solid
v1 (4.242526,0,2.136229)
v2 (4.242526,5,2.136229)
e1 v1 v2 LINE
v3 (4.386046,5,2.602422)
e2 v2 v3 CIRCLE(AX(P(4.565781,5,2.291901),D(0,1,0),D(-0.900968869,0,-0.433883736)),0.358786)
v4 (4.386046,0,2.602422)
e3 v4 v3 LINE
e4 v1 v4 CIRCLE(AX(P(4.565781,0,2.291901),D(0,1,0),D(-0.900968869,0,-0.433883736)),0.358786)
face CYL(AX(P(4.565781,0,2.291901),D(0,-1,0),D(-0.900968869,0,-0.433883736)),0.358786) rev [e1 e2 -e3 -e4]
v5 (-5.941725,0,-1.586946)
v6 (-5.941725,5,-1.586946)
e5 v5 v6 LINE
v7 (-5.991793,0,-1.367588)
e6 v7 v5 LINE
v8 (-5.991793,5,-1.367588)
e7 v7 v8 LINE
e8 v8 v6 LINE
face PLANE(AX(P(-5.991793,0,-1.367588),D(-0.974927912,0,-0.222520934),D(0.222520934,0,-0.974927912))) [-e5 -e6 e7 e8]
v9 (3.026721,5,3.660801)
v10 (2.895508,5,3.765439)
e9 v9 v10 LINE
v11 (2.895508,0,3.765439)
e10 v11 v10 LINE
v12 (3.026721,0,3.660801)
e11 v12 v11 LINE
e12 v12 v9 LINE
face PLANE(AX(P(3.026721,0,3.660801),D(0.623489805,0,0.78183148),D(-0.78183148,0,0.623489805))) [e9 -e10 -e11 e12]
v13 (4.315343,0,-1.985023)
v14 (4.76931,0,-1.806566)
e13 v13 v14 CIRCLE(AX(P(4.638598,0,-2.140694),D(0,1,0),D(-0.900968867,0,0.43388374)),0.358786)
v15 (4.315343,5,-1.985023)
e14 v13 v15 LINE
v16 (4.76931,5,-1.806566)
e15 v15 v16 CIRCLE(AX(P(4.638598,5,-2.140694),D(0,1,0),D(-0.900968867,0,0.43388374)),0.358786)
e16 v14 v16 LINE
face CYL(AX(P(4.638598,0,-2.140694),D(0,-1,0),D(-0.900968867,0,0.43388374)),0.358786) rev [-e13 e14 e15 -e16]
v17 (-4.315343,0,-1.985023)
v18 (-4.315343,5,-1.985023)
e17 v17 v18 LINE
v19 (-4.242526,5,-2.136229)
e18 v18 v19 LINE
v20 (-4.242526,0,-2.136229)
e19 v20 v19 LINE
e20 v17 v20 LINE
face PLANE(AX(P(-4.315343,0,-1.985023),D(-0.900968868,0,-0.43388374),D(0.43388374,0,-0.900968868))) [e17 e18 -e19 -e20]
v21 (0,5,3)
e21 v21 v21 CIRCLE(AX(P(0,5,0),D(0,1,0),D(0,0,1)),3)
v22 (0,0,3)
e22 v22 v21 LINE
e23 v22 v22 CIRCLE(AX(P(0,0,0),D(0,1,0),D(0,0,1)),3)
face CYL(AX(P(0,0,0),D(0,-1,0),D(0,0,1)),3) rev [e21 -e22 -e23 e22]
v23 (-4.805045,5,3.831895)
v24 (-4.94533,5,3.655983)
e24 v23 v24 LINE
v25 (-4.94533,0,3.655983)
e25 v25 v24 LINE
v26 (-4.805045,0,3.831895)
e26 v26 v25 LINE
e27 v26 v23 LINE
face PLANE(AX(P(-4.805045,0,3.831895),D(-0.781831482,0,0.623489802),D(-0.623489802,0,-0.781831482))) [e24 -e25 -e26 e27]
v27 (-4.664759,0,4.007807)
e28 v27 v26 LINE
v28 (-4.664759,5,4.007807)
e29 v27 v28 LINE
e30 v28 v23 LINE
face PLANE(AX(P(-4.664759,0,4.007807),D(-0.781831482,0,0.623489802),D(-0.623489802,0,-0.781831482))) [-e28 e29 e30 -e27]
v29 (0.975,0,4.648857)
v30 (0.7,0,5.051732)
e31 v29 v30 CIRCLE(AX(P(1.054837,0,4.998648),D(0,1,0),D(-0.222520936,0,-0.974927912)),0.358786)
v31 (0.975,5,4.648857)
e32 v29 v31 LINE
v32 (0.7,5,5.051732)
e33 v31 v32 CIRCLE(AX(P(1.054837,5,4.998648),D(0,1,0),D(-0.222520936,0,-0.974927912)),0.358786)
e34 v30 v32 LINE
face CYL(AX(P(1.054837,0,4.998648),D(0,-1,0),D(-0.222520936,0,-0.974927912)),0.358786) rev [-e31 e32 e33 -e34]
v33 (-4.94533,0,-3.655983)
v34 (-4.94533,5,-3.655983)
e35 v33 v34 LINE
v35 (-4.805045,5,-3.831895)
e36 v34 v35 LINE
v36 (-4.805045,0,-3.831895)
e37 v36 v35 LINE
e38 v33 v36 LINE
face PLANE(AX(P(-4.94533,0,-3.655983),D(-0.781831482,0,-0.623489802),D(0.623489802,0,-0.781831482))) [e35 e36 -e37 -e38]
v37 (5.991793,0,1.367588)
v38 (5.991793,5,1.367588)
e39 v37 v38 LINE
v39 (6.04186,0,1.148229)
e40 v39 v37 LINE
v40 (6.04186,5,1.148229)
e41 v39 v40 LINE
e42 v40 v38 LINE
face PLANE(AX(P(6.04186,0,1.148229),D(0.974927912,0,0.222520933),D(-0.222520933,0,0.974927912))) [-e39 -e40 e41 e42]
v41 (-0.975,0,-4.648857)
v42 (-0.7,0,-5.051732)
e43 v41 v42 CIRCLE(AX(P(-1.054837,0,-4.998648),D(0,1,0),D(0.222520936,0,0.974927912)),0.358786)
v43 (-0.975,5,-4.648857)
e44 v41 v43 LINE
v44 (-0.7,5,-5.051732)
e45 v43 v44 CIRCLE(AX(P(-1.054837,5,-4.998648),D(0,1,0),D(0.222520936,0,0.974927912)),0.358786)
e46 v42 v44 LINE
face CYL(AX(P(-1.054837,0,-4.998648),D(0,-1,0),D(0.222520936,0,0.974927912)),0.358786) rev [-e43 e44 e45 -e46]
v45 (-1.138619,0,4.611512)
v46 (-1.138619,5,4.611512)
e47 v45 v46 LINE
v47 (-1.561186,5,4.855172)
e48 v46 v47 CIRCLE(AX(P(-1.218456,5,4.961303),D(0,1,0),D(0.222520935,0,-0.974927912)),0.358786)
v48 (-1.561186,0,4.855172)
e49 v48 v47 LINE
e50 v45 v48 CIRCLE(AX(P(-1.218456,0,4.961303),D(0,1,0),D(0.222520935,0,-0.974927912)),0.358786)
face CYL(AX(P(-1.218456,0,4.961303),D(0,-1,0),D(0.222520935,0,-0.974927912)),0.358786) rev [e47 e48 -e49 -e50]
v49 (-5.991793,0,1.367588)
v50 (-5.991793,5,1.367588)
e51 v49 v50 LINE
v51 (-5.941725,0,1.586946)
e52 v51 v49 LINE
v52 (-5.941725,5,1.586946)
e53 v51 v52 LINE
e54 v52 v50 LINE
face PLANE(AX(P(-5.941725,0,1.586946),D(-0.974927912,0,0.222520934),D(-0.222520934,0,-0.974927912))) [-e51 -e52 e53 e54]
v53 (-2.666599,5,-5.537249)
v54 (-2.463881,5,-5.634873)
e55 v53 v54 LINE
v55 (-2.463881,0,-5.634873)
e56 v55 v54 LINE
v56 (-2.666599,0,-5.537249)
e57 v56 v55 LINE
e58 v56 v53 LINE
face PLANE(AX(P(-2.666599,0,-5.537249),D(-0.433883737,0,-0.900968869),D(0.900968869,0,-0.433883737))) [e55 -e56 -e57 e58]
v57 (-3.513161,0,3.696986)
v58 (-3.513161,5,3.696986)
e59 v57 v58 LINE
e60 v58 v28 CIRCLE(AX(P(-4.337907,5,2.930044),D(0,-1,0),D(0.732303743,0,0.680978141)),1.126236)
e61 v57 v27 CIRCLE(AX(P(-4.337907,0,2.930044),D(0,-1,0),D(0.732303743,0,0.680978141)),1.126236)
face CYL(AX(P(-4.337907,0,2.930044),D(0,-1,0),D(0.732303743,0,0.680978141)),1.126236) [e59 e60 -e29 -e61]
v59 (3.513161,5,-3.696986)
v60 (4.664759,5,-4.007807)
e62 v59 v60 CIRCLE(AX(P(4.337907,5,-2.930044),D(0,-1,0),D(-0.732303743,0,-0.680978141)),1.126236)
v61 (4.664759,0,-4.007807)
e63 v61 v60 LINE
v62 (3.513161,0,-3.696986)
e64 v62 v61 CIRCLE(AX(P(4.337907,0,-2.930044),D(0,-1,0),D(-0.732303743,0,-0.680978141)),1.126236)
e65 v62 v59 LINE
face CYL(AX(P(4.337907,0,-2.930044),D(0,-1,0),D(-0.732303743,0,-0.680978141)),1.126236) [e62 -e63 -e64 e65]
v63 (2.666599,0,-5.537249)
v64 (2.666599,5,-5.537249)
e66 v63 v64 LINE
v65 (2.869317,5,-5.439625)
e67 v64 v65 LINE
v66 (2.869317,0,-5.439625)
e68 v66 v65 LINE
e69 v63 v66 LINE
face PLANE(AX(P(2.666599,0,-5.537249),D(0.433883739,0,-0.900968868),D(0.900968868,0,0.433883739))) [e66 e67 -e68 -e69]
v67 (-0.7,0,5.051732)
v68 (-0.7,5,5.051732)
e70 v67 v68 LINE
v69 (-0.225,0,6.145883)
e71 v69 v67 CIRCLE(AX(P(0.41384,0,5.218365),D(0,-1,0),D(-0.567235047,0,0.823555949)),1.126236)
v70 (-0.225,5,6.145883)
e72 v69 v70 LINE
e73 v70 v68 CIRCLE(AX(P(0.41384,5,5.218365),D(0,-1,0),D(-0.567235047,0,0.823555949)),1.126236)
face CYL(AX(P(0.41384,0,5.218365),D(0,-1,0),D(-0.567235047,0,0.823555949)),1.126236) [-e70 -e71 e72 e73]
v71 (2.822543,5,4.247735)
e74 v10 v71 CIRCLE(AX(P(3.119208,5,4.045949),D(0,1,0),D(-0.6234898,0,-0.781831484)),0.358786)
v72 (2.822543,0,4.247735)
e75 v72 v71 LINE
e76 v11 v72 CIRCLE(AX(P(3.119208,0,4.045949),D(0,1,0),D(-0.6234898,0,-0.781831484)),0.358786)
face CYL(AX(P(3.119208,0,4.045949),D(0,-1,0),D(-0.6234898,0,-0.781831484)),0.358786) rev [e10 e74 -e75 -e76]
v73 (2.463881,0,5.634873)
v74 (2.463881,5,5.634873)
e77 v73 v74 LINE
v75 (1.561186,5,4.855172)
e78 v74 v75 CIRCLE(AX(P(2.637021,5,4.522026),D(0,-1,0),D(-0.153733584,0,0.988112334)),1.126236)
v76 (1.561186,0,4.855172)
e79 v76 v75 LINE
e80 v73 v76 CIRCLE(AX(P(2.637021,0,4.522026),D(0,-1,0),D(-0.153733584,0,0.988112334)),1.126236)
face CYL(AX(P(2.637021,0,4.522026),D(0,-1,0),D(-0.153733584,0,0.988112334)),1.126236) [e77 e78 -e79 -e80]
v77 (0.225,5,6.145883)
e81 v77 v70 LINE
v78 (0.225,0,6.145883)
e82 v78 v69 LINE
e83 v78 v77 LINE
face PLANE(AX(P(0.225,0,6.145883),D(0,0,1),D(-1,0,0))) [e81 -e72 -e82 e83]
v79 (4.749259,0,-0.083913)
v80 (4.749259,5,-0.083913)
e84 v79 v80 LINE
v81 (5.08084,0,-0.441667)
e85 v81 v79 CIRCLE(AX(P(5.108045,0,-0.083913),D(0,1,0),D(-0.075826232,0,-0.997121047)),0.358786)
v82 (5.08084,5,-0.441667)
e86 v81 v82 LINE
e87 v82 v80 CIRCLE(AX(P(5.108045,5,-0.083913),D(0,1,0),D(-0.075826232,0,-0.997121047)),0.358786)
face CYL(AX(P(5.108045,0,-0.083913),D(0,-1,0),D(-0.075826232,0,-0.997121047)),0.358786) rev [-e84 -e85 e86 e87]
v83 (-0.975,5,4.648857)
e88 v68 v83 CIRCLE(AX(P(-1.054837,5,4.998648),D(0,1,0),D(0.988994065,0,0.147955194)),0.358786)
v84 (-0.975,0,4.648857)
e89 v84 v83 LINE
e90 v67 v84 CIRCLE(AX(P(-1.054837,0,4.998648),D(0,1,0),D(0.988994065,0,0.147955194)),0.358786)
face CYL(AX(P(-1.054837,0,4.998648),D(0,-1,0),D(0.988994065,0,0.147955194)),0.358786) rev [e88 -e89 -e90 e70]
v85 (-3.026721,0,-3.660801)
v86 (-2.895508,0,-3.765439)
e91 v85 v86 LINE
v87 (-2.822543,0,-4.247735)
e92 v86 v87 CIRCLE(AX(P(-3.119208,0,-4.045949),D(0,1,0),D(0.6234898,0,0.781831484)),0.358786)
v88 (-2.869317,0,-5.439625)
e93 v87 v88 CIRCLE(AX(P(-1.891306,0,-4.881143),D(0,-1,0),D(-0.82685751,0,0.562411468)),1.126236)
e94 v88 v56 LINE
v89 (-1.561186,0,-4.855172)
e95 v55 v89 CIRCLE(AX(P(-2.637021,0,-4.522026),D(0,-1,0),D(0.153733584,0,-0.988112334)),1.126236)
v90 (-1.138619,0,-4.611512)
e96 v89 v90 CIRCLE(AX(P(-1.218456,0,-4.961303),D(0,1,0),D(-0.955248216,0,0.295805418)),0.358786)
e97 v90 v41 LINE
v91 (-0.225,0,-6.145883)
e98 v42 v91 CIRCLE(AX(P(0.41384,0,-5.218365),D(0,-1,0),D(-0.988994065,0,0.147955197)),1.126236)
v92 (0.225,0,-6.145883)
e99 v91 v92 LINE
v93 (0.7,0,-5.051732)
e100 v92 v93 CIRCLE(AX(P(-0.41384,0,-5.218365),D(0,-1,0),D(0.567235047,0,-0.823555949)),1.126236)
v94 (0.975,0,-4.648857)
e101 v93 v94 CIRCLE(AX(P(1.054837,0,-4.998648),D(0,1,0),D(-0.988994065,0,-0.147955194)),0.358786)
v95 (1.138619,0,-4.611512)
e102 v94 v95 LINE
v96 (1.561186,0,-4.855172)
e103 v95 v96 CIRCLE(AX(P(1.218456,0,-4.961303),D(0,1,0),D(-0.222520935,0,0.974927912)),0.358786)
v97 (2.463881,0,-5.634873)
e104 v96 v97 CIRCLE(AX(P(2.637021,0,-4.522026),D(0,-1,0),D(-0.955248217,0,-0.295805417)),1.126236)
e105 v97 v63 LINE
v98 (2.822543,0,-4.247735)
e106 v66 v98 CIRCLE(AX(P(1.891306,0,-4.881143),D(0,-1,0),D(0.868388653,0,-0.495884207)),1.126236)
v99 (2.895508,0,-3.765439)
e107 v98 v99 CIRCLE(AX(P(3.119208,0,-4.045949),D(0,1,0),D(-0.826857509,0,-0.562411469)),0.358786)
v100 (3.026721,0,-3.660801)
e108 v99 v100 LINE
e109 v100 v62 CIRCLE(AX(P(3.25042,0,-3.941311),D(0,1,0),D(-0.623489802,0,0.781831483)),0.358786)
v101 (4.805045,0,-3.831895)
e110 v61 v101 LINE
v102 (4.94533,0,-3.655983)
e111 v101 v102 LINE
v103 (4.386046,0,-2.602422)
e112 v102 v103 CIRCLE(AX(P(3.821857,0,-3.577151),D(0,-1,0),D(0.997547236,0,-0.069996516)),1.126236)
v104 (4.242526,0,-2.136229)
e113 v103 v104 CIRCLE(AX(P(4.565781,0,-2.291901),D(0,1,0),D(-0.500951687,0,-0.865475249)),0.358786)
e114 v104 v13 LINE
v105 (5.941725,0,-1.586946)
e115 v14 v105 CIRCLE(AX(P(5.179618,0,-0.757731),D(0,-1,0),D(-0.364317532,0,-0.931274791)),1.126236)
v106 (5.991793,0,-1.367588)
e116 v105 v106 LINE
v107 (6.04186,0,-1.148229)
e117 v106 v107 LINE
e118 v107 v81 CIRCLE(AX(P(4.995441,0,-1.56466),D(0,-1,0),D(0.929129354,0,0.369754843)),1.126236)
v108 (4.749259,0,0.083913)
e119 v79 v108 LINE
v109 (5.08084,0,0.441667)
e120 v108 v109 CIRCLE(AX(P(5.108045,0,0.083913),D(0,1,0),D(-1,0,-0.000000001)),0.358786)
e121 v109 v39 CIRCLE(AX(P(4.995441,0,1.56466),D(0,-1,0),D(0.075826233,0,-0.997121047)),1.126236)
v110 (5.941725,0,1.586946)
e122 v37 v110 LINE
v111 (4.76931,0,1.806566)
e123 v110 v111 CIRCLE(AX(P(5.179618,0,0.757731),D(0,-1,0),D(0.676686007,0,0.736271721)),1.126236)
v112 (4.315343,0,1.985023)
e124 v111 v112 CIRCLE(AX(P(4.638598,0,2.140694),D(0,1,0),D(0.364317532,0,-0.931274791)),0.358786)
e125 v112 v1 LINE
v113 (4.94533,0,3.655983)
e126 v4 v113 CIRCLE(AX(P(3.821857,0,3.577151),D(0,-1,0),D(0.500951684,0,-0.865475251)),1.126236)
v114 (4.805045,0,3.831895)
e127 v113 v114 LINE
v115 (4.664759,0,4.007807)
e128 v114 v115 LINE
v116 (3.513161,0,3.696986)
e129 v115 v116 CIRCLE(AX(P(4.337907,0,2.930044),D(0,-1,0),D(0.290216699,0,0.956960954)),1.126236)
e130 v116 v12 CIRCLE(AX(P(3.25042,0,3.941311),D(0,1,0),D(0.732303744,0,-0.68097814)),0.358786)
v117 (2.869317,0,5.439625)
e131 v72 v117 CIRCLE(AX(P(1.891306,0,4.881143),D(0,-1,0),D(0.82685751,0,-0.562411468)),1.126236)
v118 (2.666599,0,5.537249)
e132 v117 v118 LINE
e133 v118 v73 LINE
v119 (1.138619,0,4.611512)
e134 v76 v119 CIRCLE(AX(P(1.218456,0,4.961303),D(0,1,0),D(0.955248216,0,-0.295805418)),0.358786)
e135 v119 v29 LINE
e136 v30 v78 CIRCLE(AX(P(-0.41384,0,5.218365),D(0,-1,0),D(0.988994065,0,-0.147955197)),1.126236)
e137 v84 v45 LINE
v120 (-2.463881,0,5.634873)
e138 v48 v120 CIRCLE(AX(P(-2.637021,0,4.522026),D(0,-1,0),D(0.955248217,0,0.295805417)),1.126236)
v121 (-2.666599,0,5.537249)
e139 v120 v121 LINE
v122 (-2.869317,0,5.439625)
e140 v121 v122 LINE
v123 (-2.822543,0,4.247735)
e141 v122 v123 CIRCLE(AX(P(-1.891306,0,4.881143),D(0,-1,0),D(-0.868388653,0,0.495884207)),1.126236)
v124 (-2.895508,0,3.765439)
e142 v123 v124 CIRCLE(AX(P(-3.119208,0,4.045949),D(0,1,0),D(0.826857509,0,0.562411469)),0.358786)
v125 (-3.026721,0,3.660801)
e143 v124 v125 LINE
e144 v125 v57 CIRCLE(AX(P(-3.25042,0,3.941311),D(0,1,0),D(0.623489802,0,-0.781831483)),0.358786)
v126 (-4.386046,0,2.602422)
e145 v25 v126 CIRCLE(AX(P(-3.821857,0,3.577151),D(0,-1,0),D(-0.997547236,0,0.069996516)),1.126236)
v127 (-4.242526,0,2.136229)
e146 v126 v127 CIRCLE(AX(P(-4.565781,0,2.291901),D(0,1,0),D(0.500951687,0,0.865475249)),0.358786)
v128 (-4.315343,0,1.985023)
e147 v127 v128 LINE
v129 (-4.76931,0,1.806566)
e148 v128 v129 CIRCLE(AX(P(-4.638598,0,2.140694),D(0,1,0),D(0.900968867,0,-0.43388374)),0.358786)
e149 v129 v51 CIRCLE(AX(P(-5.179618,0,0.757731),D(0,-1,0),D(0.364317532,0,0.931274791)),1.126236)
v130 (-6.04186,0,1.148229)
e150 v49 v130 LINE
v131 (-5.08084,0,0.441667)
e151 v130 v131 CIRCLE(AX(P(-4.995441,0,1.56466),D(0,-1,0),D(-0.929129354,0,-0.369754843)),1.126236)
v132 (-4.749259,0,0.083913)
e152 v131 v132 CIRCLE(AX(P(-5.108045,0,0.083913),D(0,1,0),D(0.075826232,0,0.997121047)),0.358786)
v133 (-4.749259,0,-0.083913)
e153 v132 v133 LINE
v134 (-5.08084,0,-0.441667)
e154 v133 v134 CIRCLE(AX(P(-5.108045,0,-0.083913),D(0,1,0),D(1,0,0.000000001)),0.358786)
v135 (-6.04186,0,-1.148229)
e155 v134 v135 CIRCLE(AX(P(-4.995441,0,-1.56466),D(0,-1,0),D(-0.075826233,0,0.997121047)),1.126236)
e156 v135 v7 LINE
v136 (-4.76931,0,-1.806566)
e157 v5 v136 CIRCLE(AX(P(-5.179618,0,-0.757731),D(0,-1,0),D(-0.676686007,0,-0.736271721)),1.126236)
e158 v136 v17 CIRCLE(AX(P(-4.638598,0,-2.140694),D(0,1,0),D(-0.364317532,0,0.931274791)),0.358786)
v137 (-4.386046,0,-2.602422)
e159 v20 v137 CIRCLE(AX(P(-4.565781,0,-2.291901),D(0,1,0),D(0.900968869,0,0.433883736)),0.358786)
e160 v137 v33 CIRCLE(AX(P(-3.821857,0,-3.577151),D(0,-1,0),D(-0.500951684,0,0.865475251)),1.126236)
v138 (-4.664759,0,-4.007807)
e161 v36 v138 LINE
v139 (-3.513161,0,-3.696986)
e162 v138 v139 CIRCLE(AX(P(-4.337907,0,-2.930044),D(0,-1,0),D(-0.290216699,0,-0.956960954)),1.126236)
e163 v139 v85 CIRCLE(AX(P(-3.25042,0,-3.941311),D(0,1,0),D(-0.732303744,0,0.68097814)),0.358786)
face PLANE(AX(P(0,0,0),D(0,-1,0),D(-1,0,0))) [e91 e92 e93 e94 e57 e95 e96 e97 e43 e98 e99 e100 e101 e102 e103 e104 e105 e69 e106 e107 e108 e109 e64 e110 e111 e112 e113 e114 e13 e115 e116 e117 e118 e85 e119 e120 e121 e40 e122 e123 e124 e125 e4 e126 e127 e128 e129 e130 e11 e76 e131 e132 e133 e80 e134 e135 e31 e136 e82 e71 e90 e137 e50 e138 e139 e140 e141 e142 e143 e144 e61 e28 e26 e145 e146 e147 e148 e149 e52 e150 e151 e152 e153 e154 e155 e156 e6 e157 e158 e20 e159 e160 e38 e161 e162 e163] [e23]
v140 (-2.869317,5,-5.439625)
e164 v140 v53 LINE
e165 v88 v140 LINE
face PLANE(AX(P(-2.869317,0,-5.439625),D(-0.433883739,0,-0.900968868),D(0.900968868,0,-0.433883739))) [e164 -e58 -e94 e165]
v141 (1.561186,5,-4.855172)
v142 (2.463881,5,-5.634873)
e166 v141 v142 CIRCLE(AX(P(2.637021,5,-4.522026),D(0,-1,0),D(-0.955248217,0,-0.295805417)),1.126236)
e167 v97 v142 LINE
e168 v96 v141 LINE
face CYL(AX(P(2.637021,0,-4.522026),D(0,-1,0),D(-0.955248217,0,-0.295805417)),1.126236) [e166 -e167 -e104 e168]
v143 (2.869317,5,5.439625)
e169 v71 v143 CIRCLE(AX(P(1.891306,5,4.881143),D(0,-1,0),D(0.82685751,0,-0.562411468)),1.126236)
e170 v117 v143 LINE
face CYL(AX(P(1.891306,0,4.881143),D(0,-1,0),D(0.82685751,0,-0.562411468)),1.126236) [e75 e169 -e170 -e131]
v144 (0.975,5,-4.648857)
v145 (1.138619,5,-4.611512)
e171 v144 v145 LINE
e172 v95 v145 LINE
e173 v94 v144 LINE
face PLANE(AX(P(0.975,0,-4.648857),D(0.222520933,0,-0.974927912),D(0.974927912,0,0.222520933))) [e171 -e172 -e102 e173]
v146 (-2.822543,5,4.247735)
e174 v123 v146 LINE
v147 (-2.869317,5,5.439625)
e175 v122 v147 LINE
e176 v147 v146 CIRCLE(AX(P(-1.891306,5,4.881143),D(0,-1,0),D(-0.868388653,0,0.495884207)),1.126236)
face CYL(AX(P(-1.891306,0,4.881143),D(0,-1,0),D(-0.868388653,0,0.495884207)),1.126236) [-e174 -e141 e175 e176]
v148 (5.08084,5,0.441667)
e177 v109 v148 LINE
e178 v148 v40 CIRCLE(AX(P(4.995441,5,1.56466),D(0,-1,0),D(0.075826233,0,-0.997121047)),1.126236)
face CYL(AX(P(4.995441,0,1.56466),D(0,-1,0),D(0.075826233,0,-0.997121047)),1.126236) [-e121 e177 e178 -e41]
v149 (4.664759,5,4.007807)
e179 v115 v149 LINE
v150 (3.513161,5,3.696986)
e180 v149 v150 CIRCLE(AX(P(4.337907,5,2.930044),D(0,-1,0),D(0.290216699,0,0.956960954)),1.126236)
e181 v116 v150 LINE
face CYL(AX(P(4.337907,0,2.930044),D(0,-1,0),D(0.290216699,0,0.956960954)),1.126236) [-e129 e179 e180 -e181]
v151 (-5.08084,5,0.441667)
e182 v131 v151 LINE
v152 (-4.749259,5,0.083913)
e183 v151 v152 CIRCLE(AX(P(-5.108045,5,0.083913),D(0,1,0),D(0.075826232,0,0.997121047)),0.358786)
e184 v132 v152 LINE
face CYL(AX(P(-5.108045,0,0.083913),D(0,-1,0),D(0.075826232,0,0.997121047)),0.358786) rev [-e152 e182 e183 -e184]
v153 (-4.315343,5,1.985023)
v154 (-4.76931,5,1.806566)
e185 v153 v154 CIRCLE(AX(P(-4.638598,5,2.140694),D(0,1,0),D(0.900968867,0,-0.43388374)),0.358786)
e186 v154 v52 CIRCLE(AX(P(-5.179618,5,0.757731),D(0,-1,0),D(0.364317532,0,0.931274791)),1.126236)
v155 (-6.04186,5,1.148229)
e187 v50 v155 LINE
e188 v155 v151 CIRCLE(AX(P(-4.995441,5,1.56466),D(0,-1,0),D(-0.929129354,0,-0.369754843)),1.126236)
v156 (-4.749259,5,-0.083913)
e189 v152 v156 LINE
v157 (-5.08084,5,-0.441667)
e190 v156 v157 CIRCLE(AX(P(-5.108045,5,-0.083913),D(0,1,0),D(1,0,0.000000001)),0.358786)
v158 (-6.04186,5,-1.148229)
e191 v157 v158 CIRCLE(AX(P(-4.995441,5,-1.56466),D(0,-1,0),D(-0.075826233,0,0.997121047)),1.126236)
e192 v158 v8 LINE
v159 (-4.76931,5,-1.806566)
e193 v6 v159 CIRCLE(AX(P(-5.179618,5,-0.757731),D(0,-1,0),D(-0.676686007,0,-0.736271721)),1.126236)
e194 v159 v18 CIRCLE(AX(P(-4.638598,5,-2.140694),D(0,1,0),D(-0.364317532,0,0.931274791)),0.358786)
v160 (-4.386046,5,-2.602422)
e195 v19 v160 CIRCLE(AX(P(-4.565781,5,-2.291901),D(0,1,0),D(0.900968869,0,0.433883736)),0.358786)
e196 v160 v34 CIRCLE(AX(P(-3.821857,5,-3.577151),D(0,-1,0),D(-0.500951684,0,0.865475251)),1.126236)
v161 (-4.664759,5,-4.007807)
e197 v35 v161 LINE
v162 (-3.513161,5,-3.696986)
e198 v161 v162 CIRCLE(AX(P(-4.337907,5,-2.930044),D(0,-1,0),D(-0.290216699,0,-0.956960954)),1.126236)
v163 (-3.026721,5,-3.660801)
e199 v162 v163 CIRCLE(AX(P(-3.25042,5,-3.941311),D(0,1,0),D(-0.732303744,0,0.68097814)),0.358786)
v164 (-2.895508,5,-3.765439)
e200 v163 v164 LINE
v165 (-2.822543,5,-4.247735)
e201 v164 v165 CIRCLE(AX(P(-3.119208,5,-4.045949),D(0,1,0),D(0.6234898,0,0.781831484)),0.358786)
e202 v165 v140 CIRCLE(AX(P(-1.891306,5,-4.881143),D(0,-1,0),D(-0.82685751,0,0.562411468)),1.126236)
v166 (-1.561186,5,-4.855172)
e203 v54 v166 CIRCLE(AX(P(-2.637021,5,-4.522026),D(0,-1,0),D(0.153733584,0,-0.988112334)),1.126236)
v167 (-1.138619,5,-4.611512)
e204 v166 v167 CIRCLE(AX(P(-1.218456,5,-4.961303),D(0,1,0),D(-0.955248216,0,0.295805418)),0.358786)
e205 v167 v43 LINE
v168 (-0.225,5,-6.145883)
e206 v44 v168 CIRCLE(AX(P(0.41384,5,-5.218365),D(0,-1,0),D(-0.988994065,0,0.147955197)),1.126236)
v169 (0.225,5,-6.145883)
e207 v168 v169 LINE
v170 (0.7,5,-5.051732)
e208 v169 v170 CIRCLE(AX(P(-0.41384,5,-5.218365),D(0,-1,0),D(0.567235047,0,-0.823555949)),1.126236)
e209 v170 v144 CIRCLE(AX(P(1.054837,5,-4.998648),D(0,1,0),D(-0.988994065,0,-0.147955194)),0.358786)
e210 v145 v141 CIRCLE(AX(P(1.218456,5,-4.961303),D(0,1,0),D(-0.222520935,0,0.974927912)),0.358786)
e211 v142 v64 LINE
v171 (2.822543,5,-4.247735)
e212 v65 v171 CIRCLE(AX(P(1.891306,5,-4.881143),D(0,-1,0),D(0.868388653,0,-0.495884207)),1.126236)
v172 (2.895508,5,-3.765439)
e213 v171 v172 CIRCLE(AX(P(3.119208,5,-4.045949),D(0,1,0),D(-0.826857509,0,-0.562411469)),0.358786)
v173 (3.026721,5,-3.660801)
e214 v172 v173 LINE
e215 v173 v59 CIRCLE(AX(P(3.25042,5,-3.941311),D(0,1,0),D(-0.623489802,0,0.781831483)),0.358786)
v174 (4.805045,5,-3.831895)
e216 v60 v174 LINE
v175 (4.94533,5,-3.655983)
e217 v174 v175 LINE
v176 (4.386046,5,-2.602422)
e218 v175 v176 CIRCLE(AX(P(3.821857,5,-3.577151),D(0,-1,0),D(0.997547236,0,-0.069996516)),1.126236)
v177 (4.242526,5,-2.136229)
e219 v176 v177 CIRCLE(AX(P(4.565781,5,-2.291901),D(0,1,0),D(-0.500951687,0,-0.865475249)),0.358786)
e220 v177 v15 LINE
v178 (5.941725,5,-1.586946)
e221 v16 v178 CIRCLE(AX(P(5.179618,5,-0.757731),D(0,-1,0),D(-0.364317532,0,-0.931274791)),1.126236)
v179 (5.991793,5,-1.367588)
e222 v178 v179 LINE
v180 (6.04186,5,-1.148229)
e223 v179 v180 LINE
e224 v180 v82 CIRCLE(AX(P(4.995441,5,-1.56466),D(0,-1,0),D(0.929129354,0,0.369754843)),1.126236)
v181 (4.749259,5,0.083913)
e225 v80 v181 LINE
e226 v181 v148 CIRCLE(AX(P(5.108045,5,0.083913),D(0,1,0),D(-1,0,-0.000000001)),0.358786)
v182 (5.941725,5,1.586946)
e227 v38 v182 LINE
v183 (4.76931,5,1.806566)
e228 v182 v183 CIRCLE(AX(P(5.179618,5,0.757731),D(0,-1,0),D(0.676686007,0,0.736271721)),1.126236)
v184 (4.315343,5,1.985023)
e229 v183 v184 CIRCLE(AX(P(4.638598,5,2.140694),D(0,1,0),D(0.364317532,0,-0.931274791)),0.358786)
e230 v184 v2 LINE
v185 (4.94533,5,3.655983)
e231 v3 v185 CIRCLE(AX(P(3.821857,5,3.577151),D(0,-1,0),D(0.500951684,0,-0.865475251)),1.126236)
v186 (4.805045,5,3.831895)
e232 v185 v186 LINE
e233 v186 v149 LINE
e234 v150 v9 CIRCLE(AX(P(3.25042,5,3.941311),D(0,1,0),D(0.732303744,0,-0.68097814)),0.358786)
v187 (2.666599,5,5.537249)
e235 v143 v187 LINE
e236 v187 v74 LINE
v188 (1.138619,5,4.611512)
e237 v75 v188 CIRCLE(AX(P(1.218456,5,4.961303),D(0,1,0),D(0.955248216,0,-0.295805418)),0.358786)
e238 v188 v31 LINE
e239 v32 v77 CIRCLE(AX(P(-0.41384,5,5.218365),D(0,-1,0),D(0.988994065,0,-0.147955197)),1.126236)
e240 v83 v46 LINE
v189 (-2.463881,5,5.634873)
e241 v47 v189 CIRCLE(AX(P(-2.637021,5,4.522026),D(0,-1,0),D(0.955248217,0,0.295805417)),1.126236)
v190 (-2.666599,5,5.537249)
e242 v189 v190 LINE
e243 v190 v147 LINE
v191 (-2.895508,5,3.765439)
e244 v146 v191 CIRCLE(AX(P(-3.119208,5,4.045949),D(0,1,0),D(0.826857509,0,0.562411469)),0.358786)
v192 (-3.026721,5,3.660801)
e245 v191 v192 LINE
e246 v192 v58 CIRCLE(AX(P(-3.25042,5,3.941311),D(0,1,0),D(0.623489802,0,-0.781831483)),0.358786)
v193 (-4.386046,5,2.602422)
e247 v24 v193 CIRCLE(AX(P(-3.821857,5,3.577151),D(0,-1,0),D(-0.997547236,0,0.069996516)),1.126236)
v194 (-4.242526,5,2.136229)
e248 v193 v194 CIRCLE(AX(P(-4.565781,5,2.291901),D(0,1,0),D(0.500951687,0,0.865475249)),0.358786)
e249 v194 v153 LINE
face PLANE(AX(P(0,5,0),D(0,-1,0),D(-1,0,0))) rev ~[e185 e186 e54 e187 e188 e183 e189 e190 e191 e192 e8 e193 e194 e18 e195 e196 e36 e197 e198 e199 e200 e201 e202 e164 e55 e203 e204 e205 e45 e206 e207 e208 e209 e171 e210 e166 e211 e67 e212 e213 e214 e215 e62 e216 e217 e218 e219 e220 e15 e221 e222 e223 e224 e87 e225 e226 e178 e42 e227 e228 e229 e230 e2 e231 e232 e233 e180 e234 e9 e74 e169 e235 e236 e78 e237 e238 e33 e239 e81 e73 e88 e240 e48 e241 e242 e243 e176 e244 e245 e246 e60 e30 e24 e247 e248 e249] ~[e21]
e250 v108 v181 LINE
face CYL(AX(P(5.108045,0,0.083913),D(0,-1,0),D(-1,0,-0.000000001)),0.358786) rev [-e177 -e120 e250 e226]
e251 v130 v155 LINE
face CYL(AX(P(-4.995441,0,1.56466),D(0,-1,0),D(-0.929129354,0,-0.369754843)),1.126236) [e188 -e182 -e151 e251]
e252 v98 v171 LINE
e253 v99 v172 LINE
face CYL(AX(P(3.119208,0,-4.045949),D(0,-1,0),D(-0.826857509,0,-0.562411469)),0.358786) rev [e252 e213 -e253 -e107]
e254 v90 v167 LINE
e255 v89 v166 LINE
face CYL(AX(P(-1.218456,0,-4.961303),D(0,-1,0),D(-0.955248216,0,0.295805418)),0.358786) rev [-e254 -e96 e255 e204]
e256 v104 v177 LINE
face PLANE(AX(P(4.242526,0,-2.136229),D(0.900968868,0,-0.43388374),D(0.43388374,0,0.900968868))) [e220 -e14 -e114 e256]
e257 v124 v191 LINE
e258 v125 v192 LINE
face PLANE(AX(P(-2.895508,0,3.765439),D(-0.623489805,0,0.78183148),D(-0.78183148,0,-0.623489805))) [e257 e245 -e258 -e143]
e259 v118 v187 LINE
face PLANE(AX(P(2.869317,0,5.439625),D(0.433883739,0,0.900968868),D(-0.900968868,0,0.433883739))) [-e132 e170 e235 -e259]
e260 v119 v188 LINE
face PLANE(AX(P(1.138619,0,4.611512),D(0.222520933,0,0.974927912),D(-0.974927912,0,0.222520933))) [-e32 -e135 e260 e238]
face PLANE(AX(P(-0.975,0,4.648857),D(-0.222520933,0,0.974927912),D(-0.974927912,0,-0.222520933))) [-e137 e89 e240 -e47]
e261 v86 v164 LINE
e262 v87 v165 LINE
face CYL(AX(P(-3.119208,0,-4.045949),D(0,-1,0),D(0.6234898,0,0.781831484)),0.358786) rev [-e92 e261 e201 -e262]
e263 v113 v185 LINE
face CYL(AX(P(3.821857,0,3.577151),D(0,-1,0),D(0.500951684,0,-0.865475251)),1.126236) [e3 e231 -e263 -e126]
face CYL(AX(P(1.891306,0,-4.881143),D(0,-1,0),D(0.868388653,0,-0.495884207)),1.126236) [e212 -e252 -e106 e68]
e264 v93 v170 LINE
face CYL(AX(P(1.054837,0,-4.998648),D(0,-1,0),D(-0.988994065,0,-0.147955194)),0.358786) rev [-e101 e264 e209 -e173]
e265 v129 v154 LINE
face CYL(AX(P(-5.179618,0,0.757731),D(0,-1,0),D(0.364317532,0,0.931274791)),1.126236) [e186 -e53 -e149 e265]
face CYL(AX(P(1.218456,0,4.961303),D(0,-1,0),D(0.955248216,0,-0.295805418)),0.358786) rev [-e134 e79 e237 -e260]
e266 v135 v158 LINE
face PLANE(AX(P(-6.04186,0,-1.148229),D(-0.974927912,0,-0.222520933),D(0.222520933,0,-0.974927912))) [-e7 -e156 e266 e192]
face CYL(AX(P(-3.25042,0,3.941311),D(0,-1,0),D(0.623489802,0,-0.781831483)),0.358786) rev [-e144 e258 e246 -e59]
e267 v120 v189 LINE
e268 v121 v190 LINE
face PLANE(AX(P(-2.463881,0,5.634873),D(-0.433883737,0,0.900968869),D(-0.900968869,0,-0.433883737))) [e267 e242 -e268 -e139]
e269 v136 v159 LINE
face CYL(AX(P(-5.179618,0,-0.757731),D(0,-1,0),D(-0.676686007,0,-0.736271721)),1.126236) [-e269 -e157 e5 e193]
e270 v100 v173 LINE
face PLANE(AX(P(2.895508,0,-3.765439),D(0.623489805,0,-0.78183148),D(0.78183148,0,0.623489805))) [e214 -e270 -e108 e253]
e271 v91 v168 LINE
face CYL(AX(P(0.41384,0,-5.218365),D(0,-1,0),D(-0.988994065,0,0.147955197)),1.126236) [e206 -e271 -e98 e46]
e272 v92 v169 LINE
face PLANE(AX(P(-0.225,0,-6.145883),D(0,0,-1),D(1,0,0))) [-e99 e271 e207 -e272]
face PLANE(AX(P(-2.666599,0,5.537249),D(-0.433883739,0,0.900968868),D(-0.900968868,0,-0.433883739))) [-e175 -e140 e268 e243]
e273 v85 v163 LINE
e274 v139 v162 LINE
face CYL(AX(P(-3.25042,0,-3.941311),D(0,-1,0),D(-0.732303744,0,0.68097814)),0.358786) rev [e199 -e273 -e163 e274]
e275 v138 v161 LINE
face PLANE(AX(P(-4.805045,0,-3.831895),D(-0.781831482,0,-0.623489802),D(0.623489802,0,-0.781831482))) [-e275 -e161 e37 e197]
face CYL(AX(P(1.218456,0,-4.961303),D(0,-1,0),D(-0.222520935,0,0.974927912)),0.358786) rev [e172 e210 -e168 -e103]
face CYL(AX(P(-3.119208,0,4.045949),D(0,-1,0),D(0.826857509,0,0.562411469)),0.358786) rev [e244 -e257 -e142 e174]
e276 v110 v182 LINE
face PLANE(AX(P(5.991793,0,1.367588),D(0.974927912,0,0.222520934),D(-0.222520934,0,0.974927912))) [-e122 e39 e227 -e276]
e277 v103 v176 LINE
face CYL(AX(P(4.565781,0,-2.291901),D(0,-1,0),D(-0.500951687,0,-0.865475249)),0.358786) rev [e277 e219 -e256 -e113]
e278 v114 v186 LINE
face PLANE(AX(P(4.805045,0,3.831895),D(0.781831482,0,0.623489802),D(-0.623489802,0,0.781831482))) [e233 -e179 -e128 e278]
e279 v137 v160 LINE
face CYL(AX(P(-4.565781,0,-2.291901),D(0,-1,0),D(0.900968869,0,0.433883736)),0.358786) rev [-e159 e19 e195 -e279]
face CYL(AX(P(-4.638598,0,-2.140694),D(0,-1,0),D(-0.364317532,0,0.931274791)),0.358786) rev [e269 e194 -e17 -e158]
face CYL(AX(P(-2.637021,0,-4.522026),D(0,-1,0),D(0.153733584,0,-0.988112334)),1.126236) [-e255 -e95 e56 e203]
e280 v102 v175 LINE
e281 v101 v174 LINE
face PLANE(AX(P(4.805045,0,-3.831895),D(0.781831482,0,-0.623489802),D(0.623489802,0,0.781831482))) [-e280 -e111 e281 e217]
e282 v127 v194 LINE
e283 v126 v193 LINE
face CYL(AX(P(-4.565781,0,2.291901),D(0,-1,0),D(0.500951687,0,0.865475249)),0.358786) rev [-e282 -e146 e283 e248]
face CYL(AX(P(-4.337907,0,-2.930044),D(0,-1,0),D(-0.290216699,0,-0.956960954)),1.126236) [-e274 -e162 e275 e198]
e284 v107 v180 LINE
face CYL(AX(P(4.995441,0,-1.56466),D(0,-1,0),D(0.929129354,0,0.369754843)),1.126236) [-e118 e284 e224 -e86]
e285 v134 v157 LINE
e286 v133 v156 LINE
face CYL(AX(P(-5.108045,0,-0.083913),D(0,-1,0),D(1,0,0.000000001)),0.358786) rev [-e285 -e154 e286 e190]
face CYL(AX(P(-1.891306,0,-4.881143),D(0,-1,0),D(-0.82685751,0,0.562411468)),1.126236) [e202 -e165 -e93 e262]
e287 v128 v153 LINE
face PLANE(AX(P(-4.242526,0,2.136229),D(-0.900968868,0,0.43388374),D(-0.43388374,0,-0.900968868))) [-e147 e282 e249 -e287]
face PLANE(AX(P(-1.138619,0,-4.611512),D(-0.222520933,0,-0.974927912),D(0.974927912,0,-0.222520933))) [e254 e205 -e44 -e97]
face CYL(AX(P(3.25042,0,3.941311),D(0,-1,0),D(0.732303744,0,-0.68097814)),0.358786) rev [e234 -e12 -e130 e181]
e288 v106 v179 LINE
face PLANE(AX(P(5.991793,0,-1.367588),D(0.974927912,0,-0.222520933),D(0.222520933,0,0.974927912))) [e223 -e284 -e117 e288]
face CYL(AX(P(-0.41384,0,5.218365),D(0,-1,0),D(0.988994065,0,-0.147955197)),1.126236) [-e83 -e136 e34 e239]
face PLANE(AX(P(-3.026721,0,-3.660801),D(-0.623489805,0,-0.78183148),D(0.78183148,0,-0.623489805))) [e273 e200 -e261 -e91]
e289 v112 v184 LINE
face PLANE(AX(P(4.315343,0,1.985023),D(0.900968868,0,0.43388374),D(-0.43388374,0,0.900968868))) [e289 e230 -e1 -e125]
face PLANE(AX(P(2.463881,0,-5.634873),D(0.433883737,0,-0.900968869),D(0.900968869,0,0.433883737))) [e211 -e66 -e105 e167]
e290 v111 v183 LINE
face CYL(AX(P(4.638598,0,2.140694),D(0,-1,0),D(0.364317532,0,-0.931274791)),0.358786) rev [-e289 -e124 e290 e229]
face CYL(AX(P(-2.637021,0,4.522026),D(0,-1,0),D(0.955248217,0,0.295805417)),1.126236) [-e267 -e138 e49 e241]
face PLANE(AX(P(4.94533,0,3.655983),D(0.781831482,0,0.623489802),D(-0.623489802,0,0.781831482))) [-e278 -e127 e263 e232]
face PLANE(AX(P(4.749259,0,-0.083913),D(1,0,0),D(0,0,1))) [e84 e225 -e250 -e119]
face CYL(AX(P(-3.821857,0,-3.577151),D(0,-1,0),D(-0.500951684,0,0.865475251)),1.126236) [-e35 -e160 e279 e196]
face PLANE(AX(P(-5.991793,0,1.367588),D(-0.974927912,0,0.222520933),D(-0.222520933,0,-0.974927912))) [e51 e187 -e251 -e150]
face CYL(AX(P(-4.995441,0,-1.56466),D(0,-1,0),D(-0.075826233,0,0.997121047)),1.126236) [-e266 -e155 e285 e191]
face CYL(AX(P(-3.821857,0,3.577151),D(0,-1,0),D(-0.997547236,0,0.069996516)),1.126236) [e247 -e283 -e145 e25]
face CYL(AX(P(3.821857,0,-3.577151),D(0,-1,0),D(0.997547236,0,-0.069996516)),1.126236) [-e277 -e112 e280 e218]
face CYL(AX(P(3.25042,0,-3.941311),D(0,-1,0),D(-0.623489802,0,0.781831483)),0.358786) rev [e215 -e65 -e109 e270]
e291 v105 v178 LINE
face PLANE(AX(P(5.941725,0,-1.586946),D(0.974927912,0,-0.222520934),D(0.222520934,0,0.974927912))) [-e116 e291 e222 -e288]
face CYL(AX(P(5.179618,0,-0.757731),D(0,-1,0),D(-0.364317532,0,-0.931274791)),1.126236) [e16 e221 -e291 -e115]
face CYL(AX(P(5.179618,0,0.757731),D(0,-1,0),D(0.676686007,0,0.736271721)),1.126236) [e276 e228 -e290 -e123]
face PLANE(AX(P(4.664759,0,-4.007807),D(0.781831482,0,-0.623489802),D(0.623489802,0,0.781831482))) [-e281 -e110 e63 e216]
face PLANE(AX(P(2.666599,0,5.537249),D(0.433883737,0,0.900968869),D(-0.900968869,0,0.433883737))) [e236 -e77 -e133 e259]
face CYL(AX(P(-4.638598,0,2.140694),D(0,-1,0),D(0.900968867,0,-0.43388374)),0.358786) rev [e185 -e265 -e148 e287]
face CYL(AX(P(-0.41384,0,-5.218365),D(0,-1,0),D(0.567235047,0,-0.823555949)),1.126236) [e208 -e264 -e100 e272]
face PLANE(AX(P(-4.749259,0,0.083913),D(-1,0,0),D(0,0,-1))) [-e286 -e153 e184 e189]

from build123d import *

# Parameters (mm, degrees)
SKETCH1_R           = 3
BOSS_EXTRUDE1_DEPTH = 5


with BuildPart() as part:
    # Sketch1 → Boss-Extrude1 (new body)
    with BuildSketch(Plane(origin=(0, 0, 0), x_dir=(1, 0, 0), z_dir=(0, 1, 0))):
        with BuildLine():
            Line((-0.225, 6.145882768), (0, 6.145882768))
            Line((0, 6.145882768), (0.225, 6.145882768))
            ThreePointArc((0.225, 6.145882768), (0.619244207, 5.666854432), (0.7, 5.051732376))
            ThreePointArc((0.7, 5.051732376), (0.758505487, 4.796373711), (0.975, 4.648857386))
            Line((0.975, 4.648857386), (1.138618979, 4.611512422))
            ThreePointArc((1.138618979, 4.611512422), (1.39767873, 4.650486589), (1.561186325, 4.855172217))
            ThreePointArc((1.561186325, 4.855172217), (1.900836238, 5.374339414), (2.4638806, 5.634872881))
            Line((2.4638806, 5.634872881), (2.666598596, 5.53724904))
            Line((2.666598596, 5.53724904), (2.869316591, 5.439625199))
            ThreePointArc((2.869316591, 5.439625199), (3.016675742, 4.83697943), (2.82254274, 4.247734982))
            ThreePointArc((2.82254274, 4.247734982), (2.76445839, 3.992280195), (2.895508272, 3.765439131))
            Line((2.895508272, 3.765439131), (3.026720505, 3.660800866))
            ThreePointArc((3.026720505, 3.660800866), (3.277035533, 3.583513564), (3.513160551, 3.696985656))
            ThreePointArc((3.513160551, 3.696985656), (4.044432754, 4.017370563), (4.66475943, 4.007807313))
            Line((4.66475943, 4.007807313), (4.805044636, 3.831895229))
            Line((4.805044636, 3.831895229), (4.945329841, 3.655983146))
            ThreePointArc((4.945329841, 3.655983146), (4.816617649, 3.049081331), (4.386046274, 2.602421581))
            ThreePointArc((4.386046274, 2.602421581), (4.222876405, 2.397466625), (4.242525619, 2.136229475))
            Line((4.242525619, 2.136229475), (4.315342915, 1.985022802))
            ThreePointArc((4.315342915, 1.985022802), (4.507335258, 1.806781729), (4.769310245, 1.806565745))
            ThreePointArc((4.769310245, 1.806565745), (5.386979761, 1.864712202), (5.941725446, 1.586946354))
            Line((5.941725446, 1.586946354), (5.991792656, 1.367587574))
            Line((5.991792656, 1.367587574), (6.041859866, 1.148228793))
            ThreePointArc((6.041859866, 1.148228793), (5.662569359, 0.657275279), (5.080839552, 0.441666668))
            ThreePointArc((5.080839552, 0.441666668), (4.844901957, 0.327805387), (4.749258736, 0.083913373))
            Line((4.749258736, 0.083913373), (4.749258736, -0.083913373))
            ThreePointArc((4.749258736, -0.083913373), (4.844901957, -0.327805387), (5.080839552, -0.441666668))
            ThreePointArc((5.080839552, -0.441666668), (5.662569359, -0.657275279), (6.041859866, -1.148228793))
            Line((6.041859866, -1.148228793), (5.991792656, -1.367587574))
            Line((5.991792656, -1.367587574), (5.941725446, -1.586946354))
            ThreePointArc((5.941725446, -1.586946354), (5.386979761, -1.864712202), (4.769310245, -1.806565745))
            ThreePointArc((4.769310245, -1.806565745), (4.507335258, -1.806781729), (4.315342915, -1.985022802))
            Line((4.315342915, -1.985022802), (4.242525619, -2.136229475))
            ThreePointArc((4.242525619, -2.136229475), (4.222876405, -2.397466625), (4.386046274, -2.602421581))
            ThreePointArc((4.386046274, -2.602421581), (4.816617649, -3.049081331), (4.945329841, -3.655983146))
            Line((4.945329841, -3.655983146), (4.805044636, -3.831895229))
            Line((4.805044636, -3.831895229), (4.66475943, -4.007807313))
            ThreePointArc((4.66475943, -4.007807313), (4.044432754, -4.017370563), (3.513160551, -3.696985656))
            ThreePointArc((3.513160551, -3.696985656), (3.277035533, -3.583513564), (3.026720505, -3.660800866))
            Line((3.026720505, -3.660800866), (2.895508272, -3.765439131))
            ThreePointArc((2.895508272, -3.765439131), (2.76445839, -3.992280195), (2.82254274, -4.247734982))
            ThreePointArc((2.82254274, -4.247734982), (3.016675742, -4.83697943), (2.869316591, -5.439625199))
            Line((2.869316591, -5.439625199), (2.666598596, -5.53724904))
            Line((2.666598596, -5.53724904), (2.4638806, -5.634872881))
            ThreePointArc((2.4638806, -5.634872881), (1.900836238, -5.374339414), (1.561186325, -4.855172217))
            ThreePointArc((1.561186325, -4.855172217), (1.39767873, -4.650486589), (1.138618979, -4.611512422))
            Line((1.138618979, -4.611512422), (0.975, -4.648857386))
            ThreePointArc((0.975, -4.648857386), (0.758505487, -4.796373711), (0.7, -5.051732376))
            ThreePointArc((0.7, -5.051732376), (0.619244207, -5.666854432), (0.225, -6.145882768))
            Line((0.225, -6.145882768), (0, -6.145882768))
            Line((0, -6.145882768), (-0.225, -6.145882768))
            ThreePointArc((-0.225, -6.145882768), (-0.619244207, -5.666854432), (-0.7, -5.051732376))
            ThreePointArc((-0.7, -5.051732376), (-0.758505487, -4.796373711), (-0.975, -4.648857386))
            Line((-0.975, -4.648857386), (-1.138618979, -4.611512422))
            ThreePointArc((-1.138618979, -4.611512422), (-1.39767873, -4.650486589), (-1.561186325, -4.855172217))
            ThreePointArc((-1.561186325, -4.855172217), (-1.900836238, -5.374339414), (-2.4638806, -5.634872881))
            Line((-2.4638806, -5.634872881), (-2.666598596, -5.53724904))
            Line((-2.666598596, -5.53724904), (-2.869316591, -5.439625199))
            ThreePointArc((-2.869316591, -5.439625199), (-3.016675742, -4.83697943), (-2.82254274, -4.247734982))
            ThreePointArc((-2.82254274, -4.247734982), (-2.76445839, -3.992280195), (-2.895508272, -3.765439131))
            Line((-2.895508272, -3.765439131), (-3.026720505, -3.660800866))
            ThreePointArc((-3.026720505, -3.660800866), (-3.277035533, -3.583513564), (-3.513160551, -3.696985656))
            ThreePointArc((-3.513160551, -3.696985656), (-4.044432754, -4.017370563), (-4.66475943, -4.007807313))
            Line((-4.66475943, -4.007807313), (-4.805044636, -3.831895229))
            Line((-4.805044636, -3.831895229), (-4.945329841, -3.655983146))
            ThreePointArc((-4.945329841, -3.655983146), (-4.816617649, -3.049081331), (-4.386046274, -2.602421581))
            ThreePointArc((-4.386046274, -2.602421581), (-4.222876405, -2.397466625), (-4.242525619, -2.136229475))
            Line((-4.242525619, -2.136229475), (-4.315342915, -1.985022802))
            ThreePointArc((-4.315342915, -1.985022802), (-4.507335258, -1.806781729), (-4.769310245, -1.806565745))
            ThreePointArc((-4.769310245, -1.806565745), (-5.386979761, -1.864712202), (-5.941725446, -1.586946354))
            Line((-5.941725446, -1.586946354), (-5.991792656, -1.367587574))
            Line((-5.991792656, -1.367587574), (-6.041859866, -1.148228793))
            ThreePointArc((-6.041859866, -1.148228793), (-5.662569359, -0.657275279), (-5.080839552, -0.441666668))
            ThreePointArc((-5.080839552, -0.441666668), (-4.844901957, -0.327805387), (-4.749258736, -0.083913373))
            Line((-4.749258736, -0.083913373), (-4.749258736, 0.083913373))
            ThreePointArc((-4.749258736, 0.083913373), (-4.844901957, 0.327805387), (-5.080839552, 0.441666668))
            ThreePointArc((-5.080839552, 0.441666668), (-5.662569359, 0.657275279), (-6.041859866, 1.148228793))
            Line((-6.041859866, 1.148228793), (-5.991792656, 1.367587574))
            Line((-5.991792656, 1.367587574), (-5.941725446, 1.586946354))
            ThreePointArc((-5.941725446, 1.586946354), (-5.386979761, 1.864712202), (-4.769310245, 1.806565745))
            ThreePointArc((-4.769310245, 1.806565745), (-4.507335258, 1.806781729), (-4.315342915, 1.985022802))
            Line((-4.315342915, 1.985022802), (-4.242525619, 2.136229475))
            ThreePointArc((-4.242525619, 2.136229475), (-4.222876405, 2.397466625), (-4.386046274, 2.602421581))
            ThreePointArc((-4.386046274, 2.602421581), (-4.816617649, 3.049081331), (-4.945329841, 3.655983146))
            Line((-4.945329841, 3.655983146), (-4.805044636, 3.831895229))
            Line((-4.805044636, 3.831895229), (-4.66475943, 4.007807313))
            ThreePointArc((-4.66475943, 4.007807313), (-4.044432754, 4.017370563), (-3.513160551, 3.696985656))
            ThreePointArc((-3.513160551, 3.696985656), (-3.277035533, 3.583513564), (-3.026720505, 3.660800866))
            Line((-3.026720505, 3.660800866), (-2.895508272, 3.765439131))
            ThreePointArc((-2.895508272, 3.765439131), (-2.76445839, 3.992280195), (-2.82254274, 4.247734982))
            ThreePointArc((-2.82254274, 4.247734982), (-3.016675742, 4.83697943), (-2.869316591, 5.439625199))
            Line((-2.869316591, 5.439625199), (-2.666598596, 5.53724904))
            Line((-2.666598596, 5.53724904), (-2.4638806, 5.634872881))
            ThreePointArc((-2.4638806, 5.634872881), (-1.900836238, 5.374339414), (-1.561186325, 4.855172217))
            ThreePointArc((-1.561186325, 4.855172217), (-1.39767873, 4.650486589), (-1.138618979, 4.611512422))
            Line((-1.138618979, 4.611512422), (-0.975, 4.648857386))
            ThreePointArc((-0.975, 4.648857386), (-0.758505487, 4.796373711), (-0.7, 5.051732376))
            ThreePointArc((-0.7, 5.051732376), (-0.619244207, 5.666854432), (-0.225, 6.145882768))
        make_face()
        with Locations(Location((0, 0, 0), (0, 0, 270))):
            Circle(SKETCH1_R, mode=Mode.SUBTRACT)
    extrude(amount=BOSS_EXTRUDE1_DEPTH)


solid = part.part
